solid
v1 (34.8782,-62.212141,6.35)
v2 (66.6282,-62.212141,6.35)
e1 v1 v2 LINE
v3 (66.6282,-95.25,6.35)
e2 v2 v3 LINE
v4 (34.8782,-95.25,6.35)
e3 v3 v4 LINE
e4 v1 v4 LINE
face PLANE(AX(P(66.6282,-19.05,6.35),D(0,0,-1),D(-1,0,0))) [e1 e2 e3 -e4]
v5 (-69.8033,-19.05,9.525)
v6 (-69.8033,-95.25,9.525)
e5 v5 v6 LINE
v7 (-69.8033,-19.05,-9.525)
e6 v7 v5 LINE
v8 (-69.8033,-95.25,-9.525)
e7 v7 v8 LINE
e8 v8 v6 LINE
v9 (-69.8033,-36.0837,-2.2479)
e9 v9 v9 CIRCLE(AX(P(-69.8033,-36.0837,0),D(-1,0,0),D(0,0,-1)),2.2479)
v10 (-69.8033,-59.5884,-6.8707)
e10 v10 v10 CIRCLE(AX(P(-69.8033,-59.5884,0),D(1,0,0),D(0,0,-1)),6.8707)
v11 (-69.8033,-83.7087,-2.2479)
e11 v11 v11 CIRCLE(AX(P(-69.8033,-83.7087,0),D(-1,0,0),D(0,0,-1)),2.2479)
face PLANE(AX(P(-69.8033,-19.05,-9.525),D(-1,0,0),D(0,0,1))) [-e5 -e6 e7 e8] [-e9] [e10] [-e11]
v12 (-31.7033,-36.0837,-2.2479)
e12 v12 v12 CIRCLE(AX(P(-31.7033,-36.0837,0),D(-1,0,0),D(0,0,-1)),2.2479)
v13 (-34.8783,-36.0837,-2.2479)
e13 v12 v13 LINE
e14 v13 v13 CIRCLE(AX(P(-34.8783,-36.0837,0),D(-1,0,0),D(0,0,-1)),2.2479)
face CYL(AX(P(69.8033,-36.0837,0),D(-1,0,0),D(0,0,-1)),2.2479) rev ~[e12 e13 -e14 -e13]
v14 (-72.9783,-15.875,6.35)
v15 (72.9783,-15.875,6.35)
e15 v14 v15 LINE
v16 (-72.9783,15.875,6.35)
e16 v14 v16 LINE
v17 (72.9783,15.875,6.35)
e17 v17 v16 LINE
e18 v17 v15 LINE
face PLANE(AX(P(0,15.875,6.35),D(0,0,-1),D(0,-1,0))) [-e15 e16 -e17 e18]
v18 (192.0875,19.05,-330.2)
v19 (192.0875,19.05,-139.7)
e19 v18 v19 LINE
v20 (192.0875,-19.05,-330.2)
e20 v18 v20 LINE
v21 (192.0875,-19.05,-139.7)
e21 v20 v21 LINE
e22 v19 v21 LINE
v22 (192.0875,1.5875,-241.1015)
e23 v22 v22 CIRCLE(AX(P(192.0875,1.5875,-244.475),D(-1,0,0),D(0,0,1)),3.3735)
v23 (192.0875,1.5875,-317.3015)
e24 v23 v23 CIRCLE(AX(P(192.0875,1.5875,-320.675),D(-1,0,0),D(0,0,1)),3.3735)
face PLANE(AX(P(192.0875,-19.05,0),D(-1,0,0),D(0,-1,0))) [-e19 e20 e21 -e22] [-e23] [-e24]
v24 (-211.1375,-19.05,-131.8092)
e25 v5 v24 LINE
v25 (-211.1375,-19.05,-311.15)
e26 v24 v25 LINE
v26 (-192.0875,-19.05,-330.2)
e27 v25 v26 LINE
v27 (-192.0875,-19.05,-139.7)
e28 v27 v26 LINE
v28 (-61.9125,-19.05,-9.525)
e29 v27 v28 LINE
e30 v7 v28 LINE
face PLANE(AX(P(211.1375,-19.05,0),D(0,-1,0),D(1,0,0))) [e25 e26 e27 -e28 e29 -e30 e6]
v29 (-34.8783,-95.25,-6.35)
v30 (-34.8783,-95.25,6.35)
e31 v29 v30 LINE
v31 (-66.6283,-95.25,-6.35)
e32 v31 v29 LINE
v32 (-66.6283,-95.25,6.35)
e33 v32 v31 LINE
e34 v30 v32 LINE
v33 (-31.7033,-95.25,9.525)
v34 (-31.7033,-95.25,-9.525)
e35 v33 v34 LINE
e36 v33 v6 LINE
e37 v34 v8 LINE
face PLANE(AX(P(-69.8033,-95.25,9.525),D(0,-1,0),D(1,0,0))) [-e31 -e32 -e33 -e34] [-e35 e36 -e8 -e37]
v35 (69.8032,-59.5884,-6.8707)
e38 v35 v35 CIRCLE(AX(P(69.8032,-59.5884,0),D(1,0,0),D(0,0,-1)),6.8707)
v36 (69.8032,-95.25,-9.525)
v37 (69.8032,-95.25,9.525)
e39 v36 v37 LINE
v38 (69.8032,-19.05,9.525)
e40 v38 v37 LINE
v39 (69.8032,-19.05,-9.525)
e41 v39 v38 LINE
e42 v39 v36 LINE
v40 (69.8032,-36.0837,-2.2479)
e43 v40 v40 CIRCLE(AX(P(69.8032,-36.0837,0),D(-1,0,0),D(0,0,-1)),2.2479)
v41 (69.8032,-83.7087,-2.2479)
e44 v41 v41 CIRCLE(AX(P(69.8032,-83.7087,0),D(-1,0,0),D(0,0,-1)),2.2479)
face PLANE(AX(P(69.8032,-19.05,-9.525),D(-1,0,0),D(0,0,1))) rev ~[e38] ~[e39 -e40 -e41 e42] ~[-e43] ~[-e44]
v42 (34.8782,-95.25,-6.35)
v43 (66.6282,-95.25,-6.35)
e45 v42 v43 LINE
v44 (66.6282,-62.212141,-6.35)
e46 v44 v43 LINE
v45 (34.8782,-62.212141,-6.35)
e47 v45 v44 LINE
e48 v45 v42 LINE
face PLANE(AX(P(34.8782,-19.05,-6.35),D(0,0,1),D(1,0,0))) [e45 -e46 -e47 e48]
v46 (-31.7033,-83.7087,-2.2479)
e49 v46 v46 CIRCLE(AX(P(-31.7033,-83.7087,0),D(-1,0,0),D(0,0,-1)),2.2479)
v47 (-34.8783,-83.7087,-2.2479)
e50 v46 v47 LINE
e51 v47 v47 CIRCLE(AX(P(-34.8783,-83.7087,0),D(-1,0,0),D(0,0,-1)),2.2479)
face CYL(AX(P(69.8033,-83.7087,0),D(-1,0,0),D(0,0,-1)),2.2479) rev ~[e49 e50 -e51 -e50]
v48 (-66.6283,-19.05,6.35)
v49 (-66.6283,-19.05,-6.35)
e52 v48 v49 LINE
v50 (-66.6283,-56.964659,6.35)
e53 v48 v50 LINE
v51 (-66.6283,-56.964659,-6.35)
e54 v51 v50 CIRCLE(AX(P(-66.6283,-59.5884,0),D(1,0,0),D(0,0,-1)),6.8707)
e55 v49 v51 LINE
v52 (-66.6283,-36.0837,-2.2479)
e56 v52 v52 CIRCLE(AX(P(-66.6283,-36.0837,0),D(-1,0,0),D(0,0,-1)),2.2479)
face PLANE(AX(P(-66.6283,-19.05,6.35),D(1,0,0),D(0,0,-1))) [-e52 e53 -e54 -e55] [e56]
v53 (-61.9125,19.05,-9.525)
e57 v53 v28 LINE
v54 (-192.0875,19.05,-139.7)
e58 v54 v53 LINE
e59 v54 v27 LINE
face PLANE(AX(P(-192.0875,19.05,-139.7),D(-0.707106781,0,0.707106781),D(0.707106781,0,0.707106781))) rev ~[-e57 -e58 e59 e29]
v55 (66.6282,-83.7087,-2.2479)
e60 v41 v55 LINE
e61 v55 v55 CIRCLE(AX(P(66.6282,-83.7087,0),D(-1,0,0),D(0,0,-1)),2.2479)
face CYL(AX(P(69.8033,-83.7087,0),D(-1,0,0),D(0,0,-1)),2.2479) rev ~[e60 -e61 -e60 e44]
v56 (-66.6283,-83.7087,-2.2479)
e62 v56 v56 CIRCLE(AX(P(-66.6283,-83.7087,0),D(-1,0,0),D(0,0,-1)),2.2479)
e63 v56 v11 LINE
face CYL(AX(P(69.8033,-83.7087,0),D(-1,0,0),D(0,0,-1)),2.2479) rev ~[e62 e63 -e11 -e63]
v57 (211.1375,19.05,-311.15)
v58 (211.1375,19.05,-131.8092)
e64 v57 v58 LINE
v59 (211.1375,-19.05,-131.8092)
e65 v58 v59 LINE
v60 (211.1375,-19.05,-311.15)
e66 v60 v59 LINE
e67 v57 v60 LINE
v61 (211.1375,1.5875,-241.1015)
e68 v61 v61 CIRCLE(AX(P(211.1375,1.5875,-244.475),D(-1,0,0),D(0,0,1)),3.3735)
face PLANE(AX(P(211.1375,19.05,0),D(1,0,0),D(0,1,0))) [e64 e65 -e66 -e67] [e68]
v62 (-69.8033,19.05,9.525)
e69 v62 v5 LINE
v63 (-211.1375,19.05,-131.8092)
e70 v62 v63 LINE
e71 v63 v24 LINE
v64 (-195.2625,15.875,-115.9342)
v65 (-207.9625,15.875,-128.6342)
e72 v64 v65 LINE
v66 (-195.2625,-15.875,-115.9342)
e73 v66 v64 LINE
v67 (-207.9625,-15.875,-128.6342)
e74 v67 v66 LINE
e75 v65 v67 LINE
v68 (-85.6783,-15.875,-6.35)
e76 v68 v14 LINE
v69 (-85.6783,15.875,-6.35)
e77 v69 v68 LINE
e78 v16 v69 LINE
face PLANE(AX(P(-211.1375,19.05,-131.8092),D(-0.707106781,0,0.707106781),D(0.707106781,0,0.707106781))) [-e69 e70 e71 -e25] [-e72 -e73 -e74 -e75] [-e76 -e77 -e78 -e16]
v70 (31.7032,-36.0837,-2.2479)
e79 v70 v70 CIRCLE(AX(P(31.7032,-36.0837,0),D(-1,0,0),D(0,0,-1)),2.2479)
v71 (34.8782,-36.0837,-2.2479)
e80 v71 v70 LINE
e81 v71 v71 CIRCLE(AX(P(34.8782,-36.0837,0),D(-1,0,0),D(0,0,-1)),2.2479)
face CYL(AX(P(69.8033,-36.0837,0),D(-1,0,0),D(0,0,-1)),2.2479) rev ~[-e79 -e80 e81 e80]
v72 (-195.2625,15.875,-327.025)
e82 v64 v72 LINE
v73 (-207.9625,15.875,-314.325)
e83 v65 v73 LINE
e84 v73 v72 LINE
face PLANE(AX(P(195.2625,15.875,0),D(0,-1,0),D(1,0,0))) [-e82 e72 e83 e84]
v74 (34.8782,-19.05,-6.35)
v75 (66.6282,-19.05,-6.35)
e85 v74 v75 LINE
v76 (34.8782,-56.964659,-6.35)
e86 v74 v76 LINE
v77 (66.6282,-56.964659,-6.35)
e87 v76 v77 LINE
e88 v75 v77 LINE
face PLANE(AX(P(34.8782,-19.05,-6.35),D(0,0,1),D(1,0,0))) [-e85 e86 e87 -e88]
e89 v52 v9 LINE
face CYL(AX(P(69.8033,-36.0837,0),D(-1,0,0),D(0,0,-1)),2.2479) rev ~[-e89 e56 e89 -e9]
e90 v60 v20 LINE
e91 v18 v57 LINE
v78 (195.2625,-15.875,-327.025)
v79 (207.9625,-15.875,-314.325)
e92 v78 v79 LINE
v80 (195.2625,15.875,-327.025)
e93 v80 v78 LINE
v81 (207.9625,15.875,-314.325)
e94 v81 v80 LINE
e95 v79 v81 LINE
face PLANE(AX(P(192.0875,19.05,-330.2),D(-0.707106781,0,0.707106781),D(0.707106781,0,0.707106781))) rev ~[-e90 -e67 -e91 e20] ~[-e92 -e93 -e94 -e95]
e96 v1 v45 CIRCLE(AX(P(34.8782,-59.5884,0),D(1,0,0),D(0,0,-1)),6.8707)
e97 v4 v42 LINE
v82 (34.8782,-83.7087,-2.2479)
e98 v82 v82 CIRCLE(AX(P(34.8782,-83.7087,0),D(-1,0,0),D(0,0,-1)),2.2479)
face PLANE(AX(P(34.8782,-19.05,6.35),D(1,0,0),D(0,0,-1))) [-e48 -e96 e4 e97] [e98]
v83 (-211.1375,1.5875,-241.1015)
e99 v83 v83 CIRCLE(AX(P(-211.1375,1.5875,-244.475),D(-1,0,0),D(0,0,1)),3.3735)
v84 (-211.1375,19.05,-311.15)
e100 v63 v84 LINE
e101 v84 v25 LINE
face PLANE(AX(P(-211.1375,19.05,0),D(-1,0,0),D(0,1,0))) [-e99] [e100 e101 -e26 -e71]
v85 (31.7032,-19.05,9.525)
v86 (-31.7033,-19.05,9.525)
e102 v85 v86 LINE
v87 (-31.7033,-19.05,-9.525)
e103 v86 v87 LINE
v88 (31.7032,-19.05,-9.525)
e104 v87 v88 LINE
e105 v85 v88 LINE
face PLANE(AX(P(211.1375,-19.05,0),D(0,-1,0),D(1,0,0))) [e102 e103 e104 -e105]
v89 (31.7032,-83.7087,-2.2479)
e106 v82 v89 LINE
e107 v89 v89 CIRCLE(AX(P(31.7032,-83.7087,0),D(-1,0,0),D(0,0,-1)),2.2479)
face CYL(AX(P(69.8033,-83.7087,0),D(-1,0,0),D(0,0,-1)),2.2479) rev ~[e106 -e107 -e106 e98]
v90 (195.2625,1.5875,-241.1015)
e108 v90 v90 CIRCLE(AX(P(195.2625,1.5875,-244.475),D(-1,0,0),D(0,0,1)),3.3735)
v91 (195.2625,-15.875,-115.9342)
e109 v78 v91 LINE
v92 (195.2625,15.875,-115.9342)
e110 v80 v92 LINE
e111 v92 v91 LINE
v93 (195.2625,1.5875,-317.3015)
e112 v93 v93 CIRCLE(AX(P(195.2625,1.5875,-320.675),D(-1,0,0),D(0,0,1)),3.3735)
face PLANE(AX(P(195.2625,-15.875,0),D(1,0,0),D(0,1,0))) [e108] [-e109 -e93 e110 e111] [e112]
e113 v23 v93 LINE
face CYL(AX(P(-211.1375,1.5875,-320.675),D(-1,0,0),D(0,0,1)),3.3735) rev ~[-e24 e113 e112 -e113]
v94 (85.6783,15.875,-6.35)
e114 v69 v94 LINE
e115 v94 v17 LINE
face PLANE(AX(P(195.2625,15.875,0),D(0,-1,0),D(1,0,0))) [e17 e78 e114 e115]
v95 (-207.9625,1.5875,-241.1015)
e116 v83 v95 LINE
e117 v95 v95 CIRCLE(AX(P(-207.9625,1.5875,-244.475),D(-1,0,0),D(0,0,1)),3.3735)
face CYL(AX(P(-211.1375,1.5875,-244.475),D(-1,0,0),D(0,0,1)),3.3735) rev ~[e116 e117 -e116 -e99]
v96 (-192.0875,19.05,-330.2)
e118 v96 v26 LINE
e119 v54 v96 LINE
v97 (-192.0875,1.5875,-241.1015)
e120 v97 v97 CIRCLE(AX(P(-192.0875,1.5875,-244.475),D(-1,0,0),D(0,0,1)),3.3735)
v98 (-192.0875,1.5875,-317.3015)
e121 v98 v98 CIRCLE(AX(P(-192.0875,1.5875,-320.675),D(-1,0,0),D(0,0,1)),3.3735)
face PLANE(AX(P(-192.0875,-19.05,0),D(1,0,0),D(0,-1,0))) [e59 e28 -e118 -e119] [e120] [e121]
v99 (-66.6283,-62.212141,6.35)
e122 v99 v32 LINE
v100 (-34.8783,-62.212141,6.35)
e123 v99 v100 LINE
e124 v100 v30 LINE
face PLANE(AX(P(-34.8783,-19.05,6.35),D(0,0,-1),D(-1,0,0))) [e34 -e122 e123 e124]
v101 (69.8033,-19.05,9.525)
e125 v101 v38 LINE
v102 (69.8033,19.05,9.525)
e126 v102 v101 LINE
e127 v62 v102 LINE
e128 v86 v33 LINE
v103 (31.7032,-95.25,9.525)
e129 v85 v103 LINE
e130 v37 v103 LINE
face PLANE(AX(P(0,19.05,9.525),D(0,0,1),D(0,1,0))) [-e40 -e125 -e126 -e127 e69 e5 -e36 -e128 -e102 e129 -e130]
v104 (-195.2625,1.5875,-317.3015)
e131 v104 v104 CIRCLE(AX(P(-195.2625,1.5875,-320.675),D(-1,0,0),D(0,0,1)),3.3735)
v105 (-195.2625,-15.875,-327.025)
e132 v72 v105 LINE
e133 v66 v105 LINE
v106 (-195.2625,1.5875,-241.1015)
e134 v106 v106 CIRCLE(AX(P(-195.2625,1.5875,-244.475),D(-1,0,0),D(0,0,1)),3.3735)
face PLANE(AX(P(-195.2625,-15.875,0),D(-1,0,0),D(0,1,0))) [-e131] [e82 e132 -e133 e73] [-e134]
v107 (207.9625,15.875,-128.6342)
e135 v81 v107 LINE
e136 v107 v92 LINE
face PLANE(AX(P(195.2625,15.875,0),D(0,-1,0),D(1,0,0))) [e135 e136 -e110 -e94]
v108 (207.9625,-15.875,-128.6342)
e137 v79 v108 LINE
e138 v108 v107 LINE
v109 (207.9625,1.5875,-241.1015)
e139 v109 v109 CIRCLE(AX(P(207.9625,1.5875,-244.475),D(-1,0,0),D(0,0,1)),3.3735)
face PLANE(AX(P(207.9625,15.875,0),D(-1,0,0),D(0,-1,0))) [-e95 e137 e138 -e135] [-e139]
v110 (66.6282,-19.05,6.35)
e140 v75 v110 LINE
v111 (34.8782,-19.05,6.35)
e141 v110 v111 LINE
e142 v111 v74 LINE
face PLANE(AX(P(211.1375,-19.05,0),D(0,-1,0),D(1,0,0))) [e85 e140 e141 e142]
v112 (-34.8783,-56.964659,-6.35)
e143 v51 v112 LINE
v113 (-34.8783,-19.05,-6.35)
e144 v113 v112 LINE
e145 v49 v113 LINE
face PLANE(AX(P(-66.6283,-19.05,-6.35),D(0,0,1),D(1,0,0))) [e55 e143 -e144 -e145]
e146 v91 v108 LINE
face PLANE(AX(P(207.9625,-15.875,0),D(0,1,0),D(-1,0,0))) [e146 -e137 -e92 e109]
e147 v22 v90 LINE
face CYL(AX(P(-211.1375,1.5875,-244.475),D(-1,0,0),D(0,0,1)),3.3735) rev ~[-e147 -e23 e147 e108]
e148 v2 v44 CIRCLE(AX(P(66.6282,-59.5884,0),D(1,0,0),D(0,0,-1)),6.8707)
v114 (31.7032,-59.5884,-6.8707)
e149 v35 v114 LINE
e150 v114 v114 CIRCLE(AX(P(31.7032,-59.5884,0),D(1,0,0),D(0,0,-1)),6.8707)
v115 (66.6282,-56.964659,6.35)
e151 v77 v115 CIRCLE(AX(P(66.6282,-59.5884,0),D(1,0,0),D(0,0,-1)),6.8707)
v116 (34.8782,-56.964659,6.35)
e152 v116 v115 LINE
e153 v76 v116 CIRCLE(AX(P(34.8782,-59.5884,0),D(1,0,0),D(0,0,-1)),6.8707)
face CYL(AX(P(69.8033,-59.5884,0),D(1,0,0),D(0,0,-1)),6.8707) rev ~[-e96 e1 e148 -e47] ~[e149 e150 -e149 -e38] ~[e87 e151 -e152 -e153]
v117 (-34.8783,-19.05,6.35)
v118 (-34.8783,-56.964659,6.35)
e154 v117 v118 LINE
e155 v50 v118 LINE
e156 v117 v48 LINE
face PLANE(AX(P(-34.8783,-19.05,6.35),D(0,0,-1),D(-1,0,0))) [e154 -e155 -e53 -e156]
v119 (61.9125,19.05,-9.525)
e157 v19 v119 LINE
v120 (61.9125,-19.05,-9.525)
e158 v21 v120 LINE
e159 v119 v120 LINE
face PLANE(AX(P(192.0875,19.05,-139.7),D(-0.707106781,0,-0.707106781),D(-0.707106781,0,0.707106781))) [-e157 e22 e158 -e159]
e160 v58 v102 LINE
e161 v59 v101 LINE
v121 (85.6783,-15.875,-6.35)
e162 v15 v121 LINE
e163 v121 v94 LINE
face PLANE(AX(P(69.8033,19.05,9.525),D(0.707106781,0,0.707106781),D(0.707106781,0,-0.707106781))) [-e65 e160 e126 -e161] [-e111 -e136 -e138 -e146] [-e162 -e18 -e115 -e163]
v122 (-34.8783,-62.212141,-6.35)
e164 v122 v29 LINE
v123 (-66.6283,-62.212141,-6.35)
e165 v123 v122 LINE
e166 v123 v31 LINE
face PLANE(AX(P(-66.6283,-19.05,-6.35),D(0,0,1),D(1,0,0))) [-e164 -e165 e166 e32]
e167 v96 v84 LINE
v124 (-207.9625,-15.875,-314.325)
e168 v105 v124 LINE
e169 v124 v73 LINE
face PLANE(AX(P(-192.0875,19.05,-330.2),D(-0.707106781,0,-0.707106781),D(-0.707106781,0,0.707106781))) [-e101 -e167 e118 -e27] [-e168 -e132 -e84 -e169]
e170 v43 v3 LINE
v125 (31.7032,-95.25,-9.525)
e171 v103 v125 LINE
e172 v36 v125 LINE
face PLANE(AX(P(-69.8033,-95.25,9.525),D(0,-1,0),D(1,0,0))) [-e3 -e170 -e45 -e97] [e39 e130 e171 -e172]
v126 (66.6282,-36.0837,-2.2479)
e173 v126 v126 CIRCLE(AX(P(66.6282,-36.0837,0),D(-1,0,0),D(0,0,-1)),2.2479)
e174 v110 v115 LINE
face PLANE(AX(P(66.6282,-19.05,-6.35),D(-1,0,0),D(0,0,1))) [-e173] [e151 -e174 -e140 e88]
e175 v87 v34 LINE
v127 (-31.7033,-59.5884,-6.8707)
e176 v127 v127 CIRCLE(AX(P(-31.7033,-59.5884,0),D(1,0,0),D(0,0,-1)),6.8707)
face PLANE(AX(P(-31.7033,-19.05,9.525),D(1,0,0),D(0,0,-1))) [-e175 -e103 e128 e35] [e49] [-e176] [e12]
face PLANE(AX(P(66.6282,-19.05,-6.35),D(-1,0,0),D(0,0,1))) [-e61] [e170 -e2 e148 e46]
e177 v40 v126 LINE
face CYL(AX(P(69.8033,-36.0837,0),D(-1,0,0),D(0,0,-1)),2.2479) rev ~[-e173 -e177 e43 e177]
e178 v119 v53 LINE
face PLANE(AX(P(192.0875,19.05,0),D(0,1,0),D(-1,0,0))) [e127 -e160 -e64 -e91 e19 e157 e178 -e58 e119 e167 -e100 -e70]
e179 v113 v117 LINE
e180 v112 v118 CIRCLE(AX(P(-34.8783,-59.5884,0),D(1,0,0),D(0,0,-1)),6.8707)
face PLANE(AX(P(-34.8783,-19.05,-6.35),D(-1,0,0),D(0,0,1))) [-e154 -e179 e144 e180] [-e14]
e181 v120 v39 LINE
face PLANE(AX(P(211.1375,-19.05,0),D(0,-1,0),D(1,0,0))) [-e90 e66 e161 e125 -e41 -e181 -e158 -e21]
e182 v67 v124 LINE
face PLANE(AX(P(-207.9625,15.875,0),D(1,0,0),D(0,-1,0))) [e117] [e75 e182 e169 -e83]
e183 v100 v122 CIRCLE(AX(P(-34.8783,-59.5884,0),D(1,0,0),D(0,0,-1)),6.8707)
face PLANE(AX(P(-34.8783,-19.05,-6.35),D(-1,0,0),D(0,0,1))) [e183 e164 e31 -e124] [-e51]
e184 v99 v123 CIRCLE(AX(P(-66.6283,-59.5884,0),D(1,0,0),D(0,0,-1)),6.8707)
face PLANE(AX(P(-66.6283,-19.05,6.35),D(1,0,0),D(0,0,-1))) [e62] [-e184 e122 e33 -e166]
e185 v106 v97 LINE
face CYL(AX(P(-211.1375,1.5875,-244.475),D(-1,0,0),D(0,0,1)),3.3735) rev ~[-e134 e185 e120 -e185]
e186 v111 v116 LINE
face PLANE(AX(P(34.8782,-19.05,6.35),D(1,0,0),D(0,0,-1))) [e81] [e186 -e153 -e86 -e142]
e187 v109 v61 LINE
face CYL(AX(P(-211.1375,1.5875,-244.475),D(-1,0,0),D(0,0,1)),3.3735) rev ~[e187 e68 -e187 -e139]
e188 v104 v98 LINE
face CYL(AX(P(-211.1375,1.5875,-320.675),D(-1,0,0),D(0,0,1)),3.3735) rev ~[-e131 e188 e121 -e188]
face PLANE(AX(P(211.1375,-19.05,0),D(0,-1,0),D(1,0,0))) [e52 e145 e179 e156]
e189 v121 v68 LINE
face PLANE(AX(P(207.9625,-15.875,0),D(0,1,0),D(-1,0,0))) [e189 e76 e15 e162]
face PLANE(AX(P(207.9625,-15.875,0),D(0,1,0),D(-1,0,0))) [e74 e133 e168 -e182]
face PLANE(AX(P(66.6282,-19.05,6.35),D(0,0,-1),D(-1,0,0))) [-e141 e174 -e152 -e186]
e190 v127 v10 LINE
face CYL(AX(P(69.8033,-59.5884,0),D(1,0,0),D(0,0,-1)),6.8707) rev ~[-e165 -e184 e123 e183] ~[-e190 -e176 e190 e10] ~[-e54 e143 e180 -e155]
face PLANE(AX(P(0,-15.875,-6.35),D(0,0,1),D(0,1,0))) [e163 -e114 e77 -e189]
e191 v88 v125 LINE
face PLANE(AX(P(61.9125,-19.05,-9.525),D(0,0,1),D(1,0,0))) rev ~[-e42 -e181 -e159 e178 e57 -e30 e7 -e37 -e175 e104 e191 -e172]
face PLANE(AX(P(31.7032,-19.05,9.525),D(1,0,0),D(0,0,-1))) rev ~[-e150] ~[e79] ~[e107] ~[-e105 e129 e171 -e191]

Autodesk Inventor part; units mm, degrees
sketch "Sketch1" plane through (0, 0, 0) normal (0, 1, 0) x (-1, 0, 0)
  line L0 (0, 0) -> (201.6125, 0)
  line L1 (201.6125, 0) -> (201.6125, -330.2)
  line L2 (0, 0) -> (0, -330.2) construction
  line L3 (0, 0) -> (-201.6125, 0)
  line L4 (-201.6125, 0) -> (-201.6125, -330.2)
  dimension "d0" = 201.6125
  dimension "d1" = 330.2
  dimension "d2" = 330.2
ref_plane "Work Plane1" through (0, 0, -330.2) normal (0, 0, 1) x (1, 0, 0)
sketch "Sketch3" plane through (0, 0, -330.2) normal (0, 0, 1) x (1, 0, 0)
  line L0 (211.1375, -19.05) -> (192.0875, -19.05)
  line L1 (192.0875, -19.05) -> (192.0875, 19.05)
  line L2 (192.0875, 19.05) -> (211.1375, 19.05)
  line L3 (211.1375, 19.05) -> (211.1375, -19.05)
  line L4 (211.1375, -19.05) -> (192.0875, 19.05) construction
  line L5 (192.0875, -19.05) -> (211.1375, 19.05) construction
  line L6 (207.9625, -15.875) -> (195.2625, -15.875)
  line L7 (195.2625, -15.875) -> (195.2625, 15.875)
  line L8 (195.2625, 15.875) -> (207.9625, 15.875)
  line L9 (207.9625, 15.875) -> (207.9625, -15.875)
  line L10 (207.9625, -15.875) -> (195.2625, 15.875) construction
  line L11 (195.2625, -15.875) -> (207.9625, 15.875) construction
  point P0 (0, 0)
  point P1 (201.6125, 0)
  dimension "d4" = 38.1
  dimension "d5" = 19.05
  dimension "d6" = 201.6125
  dimension "d7" = 3.175
  dimension "d8" = 3.175
sweep "Sweep1" add profiles "Sketch3" path "Sketch1"
ref_plane "Work Plane2" through (-192.0875, -19.05, -9.525) normal (0, 0, 1) x (1, 0, 0)
sketch "Sketch12" plane through (-211.1375, 19.05, 9.525) normal (0, 1, 0) x (1, 0, 0)
  line L0 (406.4, 15.875) -> (15.875, 15.875) projected
  line L1 (19.05, 19.05) -> (19.05, 339.725) projected
  line L2 (19.05, 149.225) -> (149.225, 19.05)
  line L3 (403.225, 19.05) -> (19.05, 19.05) projected
  line L4 (19.05, 122.2842) -> (122.2842, 19.05)
  line L5 (19.05, 149.225) -> (19.05, 122.2842)
  line L6 (122.2842, 19.05) -> (149.225, 19.05)
  line L7 (211.1375, 9.525) -> (211.1375, 339.725) construction
  line L8 (403.225, 19.05) -> (403.225, 339.725)
  line L9 (403.225, 149.225) -> (273.05, 19.05)
  line L10 (19.05, 19.05) -> (403.225, 19.05)
  line L11 (403.225, 122.2842) -> (299.9908, 19.05)
  dimension "d50" = 130.175
  dimension "d51" = 130.175
  dimension "d52" = 19.05
  dimension "d55" = 330.2
extrude "Extrusion5" add sketch "Sketch12" against normal blind 38.1 contours L9 L8 L11 L3 | L1 L2 L3 L4
sketch "Sketch14" plane through (-211.1375, 19.05, 9.525) normal (0, 1, 0) x (1, 0, 0)
  line L0 (0, 0) -> (0, 339.725) projected
  line L1 (0, 141.3342) -> (141.3342, 0)
  line L2 (422.275, 0) -> (0, 0) projected
  line L3 (19.05, 122.2842) -> (122.2842, 19.05) projected
  line L4 (0, 141.3342) -> (0, 0)
  line L5 (211.1375, 9.525) -> (211.1375, 339.725) construction
  dimension "d58" = 330.2
extrude "Extrusion6" cut sketch "Sketch14" against normal blind 38.1
sketch "Sketch15" plane through (211.1375, 19.05, 9.525) normal (0, 1, 0) x (1, 0, 0)
  line L0 (0, 0) -> (-280.9408, 0) projected
  line L1 (-141.3342, 0) -> (0, 141.3342)
  line L2 (0, 339.725) -> (0, 0) projected
  line L3 (-122.2842, 19.05) -> (-19.05, 122.2842) projected
  line L4 (-141.3342, 0) -> (0, 0)
  point P0 (-211.1375, 9.525)
extrude "Extrusion7" cut sketch "Sketch15" against normal blind 38.1
sketch "Sketch17" plane through (192.0875, 19.05, -330.2) normal (0, 1, 0) x (1, 0, 0)
  line L0 (-384.175, -190.5) -> (-384.175, 0) projected
  line L1 (-384.175, 0) -> (-403.225, -19.05)
  line L2 (-403.225, -198.3908) -> (-403.225, 0) projected
  line L3 (-403.225, -19.05) -> (-403.225, 0)
  line L4 (-403.225, 0) -> (-384.175, 0)
  point P0 (-192.0875, -330.2)
  dimension "d63" = 45
extrude "Extrusion8" cut sketch "Sketch17" against normal through all
sketch "Sketch18" plane through (192.0875, 19.05, -330.2) normal (0, 1, 0) x (1, 0, 0)
  line L0 (0, 0) -> (0, -190.5) projected
  line L1 (0, 0) -> (19.05, -19.05)
  line L2 (19.05, 0) -> (19.05, -198.3908) projected
  line L3 (19.05, -19.05) -> (19.05, 0)
  line L4 (19.05, 0) -> (0, 0) projected
  line L5 (19.05, 0) -> (0, 0)
  point P0 (-192.0875, -330.2)
  dimension "d66" = 45
extrude "Extrusion9" cut sketch "Sketch18" against normal through all
sketch "Sketch19" plane through (-69.8033, -19.05, 9.525) normal (0, -1, 0) x (1, 0, 0)
  line L0 (139.6065, 0) -> (0, 0) projected
  line L1 (131.7158, -19.05) -> (7.8908, -19.05) projected
  line L2 (0, 0) -> (38.1, 0)
  line L3 (38.1, 0) -> (38.1, -19.05)
  line L4 (38.1, -19.05) -> (0, -19.05)
  line L5 (0, -19.05) -> (0, 0)
  line L6 (280.9408, -141.3342) -> (139.6065, 0) projected
  line L7 (139.6065, 0) -> (101.5065, 0)
  line L8 (101.5065, 0) -> (101.5065, -19.05)
  line L9 (101.5065, -19.05) -> (139.6065, -19.05)
  line L10 (139.6065, -19.05) -> (139.6065, 0)
  line L11 (0, -9.525) -> (139.6065, -9.525) construction
  line L12 (120.5565, 0) -> (120.5565, -19.05) construction
  line L13 (19.05, 0) -> (19.05, -19.05) construction
  line L14 (131.7158, -19.05) -> (7.8908, -19.05) construction
  line L15 (3.175, -15.875) -> (34.925, -15.875)
  line L16 (34.925, -15.875) -> (34.925, -3.175)
  line L17 (34.925, -3.175) -> (3.175, -3.175)
  line L18 (3.175, -3.175) -> (3.175, -15.875)
  line L19 (3.175, -15.875) -> (34.925, -3.175) construction
  line L20 (34.925, -15.875) -> (3.175, -3.175) construction
  line L21 (104.6815, -15.875) -> (136.4315, -15.875)
  line L22 (136.4315, -15.875) -> (136.4315, -3.175)
  line L23 (136.4315, -3.175) -> (104.6815, -3.175)
  line L24 (104.6815, -3.175) -> (104.6815, -15.875)
  line L25 (104.6815, -15.875) -> (136.4315, -3.175) construction
  line L26 (136.4315, -15.875) -> (104.6815, -3.175) construction
  point P0 (69.8033, -9.525)
  point P1 (19.05, -9.525)
  point P2 (120.5565, -9.525)
  dimension "d69" = 38.1
  dimension "d70" = 38.1
  dimension "d71" = 3.175
  dimension "d72" = 3.175
  dimension "d73" = 3.175
  dimension "d74" = 3.175
extrude "Extrusion10" add sketch "Sketch19" along normal blind 76.2 contours L10 L9 L1 L8 L0 | L3 L1 L4 L5 L0
sketch "Sketch20" plane through (69.8033, -19.05, 9.525) normal (1, 0, 0) x (0, 0, -1)
  circle A0 centre (9.525, -40.5384) radius 6.8707
  line L0 (141.3342, 0) -> (0, 0) projected
  point P0 (9.525, 19.05)
  dimension "d77" = 13.7414
  dimension "d78" = 40.5384
extrude "Extrusion11" cut sketch "Sketch20" against normal through all
ref_plane "Work Plane4" through (0, 19.05, -139.7) normal (-1, 0, 0) x (0, 0, -1)
ref_plane "Work Plane3" through (-192.0875, 19.05, -139.7) normal (-1, 0, 0) x (0, 0, -1)
sketch "Sketch21" plane through (-211.1375, -19.05, -131.8092) normal (-1, 0, 0) x (0, 0, 1)
  line L0 (-179.3408, 38.1) -> (-179.3408, 0) projected
  line L1 (0, 0) -> (-179.3408, 0) projected
  line L2 (0, 0) -> (0, 38.1) projected
  line L3 (0, 38.1) -> (-179.3408, 38.1) projected
  circle A0 centre (-112.6658, 20.6375) radius 3.3735 projected
  circle A1 centre (-188.8658, 20.6375) radius 3.3735 projected
  point P0 (131.8092, 19.05)
extrude "Extrusion12" cut sketch "Sketch21" against normal through all contours A0 | A1
sketch "Sketch22" plane through (69.8033, -19.05, 9.525) normal (1, 0, 0) x (0, 0, -1)
  circle A0 centre (9.525, -40.8462) radius 23.8125 construction
  arc A1 (15.875, -37.9147) -> (3.175, -37.9147) centre (9.525, -40.5384) ccw construction
  line L0 (9.525, -40.5384) -> (9.525, -17.0337) construction
  line L1 (9.525, -40.5384) -> (9.525, -64.6587) construction
  point P0 (9.525, 19.05)
  point P1 (-29.4266, 19.05)
  dimension "d84" = 47.625
hole "Hole3" at (69.8033, 0, 38.9516) at (69.8033, -36.0837, 0) at (69.8033, -83.7087, 0) direction (-1, 0, 0) diameter 4.4958 end through all
equation "\"d0\" = 0.5 * width"
equation "\"d1\" = length"
equation "\"d2\" = length"
equation "\"d4\" = tubingLength"
equation "\"d5\" = tubingWidth"
equation "\"d6\" = 0.5 * width"
equation "\"d7\" = tubeingWallWidth"
equation "\"d8\" = tubeingWallWidth"
equation "\"d55\" = length"
equation "\"d58\" = length"
equation "\"d77\" = diamForAxel"
equation "\"width\" = 403.225"
equation "\"length\" = 330.2"
equation "\"tubingWidth\" = 19.05"
equation "\"tubingLength\" = 38.1"
equation "\"tubeingWallWidth\" = 3.175"
equation "\"d3\" = -length"
equation "\"diamForAxel\" = 13.7414"
properties part number "ShooterFrameV02" material "Aluminum 6061"
